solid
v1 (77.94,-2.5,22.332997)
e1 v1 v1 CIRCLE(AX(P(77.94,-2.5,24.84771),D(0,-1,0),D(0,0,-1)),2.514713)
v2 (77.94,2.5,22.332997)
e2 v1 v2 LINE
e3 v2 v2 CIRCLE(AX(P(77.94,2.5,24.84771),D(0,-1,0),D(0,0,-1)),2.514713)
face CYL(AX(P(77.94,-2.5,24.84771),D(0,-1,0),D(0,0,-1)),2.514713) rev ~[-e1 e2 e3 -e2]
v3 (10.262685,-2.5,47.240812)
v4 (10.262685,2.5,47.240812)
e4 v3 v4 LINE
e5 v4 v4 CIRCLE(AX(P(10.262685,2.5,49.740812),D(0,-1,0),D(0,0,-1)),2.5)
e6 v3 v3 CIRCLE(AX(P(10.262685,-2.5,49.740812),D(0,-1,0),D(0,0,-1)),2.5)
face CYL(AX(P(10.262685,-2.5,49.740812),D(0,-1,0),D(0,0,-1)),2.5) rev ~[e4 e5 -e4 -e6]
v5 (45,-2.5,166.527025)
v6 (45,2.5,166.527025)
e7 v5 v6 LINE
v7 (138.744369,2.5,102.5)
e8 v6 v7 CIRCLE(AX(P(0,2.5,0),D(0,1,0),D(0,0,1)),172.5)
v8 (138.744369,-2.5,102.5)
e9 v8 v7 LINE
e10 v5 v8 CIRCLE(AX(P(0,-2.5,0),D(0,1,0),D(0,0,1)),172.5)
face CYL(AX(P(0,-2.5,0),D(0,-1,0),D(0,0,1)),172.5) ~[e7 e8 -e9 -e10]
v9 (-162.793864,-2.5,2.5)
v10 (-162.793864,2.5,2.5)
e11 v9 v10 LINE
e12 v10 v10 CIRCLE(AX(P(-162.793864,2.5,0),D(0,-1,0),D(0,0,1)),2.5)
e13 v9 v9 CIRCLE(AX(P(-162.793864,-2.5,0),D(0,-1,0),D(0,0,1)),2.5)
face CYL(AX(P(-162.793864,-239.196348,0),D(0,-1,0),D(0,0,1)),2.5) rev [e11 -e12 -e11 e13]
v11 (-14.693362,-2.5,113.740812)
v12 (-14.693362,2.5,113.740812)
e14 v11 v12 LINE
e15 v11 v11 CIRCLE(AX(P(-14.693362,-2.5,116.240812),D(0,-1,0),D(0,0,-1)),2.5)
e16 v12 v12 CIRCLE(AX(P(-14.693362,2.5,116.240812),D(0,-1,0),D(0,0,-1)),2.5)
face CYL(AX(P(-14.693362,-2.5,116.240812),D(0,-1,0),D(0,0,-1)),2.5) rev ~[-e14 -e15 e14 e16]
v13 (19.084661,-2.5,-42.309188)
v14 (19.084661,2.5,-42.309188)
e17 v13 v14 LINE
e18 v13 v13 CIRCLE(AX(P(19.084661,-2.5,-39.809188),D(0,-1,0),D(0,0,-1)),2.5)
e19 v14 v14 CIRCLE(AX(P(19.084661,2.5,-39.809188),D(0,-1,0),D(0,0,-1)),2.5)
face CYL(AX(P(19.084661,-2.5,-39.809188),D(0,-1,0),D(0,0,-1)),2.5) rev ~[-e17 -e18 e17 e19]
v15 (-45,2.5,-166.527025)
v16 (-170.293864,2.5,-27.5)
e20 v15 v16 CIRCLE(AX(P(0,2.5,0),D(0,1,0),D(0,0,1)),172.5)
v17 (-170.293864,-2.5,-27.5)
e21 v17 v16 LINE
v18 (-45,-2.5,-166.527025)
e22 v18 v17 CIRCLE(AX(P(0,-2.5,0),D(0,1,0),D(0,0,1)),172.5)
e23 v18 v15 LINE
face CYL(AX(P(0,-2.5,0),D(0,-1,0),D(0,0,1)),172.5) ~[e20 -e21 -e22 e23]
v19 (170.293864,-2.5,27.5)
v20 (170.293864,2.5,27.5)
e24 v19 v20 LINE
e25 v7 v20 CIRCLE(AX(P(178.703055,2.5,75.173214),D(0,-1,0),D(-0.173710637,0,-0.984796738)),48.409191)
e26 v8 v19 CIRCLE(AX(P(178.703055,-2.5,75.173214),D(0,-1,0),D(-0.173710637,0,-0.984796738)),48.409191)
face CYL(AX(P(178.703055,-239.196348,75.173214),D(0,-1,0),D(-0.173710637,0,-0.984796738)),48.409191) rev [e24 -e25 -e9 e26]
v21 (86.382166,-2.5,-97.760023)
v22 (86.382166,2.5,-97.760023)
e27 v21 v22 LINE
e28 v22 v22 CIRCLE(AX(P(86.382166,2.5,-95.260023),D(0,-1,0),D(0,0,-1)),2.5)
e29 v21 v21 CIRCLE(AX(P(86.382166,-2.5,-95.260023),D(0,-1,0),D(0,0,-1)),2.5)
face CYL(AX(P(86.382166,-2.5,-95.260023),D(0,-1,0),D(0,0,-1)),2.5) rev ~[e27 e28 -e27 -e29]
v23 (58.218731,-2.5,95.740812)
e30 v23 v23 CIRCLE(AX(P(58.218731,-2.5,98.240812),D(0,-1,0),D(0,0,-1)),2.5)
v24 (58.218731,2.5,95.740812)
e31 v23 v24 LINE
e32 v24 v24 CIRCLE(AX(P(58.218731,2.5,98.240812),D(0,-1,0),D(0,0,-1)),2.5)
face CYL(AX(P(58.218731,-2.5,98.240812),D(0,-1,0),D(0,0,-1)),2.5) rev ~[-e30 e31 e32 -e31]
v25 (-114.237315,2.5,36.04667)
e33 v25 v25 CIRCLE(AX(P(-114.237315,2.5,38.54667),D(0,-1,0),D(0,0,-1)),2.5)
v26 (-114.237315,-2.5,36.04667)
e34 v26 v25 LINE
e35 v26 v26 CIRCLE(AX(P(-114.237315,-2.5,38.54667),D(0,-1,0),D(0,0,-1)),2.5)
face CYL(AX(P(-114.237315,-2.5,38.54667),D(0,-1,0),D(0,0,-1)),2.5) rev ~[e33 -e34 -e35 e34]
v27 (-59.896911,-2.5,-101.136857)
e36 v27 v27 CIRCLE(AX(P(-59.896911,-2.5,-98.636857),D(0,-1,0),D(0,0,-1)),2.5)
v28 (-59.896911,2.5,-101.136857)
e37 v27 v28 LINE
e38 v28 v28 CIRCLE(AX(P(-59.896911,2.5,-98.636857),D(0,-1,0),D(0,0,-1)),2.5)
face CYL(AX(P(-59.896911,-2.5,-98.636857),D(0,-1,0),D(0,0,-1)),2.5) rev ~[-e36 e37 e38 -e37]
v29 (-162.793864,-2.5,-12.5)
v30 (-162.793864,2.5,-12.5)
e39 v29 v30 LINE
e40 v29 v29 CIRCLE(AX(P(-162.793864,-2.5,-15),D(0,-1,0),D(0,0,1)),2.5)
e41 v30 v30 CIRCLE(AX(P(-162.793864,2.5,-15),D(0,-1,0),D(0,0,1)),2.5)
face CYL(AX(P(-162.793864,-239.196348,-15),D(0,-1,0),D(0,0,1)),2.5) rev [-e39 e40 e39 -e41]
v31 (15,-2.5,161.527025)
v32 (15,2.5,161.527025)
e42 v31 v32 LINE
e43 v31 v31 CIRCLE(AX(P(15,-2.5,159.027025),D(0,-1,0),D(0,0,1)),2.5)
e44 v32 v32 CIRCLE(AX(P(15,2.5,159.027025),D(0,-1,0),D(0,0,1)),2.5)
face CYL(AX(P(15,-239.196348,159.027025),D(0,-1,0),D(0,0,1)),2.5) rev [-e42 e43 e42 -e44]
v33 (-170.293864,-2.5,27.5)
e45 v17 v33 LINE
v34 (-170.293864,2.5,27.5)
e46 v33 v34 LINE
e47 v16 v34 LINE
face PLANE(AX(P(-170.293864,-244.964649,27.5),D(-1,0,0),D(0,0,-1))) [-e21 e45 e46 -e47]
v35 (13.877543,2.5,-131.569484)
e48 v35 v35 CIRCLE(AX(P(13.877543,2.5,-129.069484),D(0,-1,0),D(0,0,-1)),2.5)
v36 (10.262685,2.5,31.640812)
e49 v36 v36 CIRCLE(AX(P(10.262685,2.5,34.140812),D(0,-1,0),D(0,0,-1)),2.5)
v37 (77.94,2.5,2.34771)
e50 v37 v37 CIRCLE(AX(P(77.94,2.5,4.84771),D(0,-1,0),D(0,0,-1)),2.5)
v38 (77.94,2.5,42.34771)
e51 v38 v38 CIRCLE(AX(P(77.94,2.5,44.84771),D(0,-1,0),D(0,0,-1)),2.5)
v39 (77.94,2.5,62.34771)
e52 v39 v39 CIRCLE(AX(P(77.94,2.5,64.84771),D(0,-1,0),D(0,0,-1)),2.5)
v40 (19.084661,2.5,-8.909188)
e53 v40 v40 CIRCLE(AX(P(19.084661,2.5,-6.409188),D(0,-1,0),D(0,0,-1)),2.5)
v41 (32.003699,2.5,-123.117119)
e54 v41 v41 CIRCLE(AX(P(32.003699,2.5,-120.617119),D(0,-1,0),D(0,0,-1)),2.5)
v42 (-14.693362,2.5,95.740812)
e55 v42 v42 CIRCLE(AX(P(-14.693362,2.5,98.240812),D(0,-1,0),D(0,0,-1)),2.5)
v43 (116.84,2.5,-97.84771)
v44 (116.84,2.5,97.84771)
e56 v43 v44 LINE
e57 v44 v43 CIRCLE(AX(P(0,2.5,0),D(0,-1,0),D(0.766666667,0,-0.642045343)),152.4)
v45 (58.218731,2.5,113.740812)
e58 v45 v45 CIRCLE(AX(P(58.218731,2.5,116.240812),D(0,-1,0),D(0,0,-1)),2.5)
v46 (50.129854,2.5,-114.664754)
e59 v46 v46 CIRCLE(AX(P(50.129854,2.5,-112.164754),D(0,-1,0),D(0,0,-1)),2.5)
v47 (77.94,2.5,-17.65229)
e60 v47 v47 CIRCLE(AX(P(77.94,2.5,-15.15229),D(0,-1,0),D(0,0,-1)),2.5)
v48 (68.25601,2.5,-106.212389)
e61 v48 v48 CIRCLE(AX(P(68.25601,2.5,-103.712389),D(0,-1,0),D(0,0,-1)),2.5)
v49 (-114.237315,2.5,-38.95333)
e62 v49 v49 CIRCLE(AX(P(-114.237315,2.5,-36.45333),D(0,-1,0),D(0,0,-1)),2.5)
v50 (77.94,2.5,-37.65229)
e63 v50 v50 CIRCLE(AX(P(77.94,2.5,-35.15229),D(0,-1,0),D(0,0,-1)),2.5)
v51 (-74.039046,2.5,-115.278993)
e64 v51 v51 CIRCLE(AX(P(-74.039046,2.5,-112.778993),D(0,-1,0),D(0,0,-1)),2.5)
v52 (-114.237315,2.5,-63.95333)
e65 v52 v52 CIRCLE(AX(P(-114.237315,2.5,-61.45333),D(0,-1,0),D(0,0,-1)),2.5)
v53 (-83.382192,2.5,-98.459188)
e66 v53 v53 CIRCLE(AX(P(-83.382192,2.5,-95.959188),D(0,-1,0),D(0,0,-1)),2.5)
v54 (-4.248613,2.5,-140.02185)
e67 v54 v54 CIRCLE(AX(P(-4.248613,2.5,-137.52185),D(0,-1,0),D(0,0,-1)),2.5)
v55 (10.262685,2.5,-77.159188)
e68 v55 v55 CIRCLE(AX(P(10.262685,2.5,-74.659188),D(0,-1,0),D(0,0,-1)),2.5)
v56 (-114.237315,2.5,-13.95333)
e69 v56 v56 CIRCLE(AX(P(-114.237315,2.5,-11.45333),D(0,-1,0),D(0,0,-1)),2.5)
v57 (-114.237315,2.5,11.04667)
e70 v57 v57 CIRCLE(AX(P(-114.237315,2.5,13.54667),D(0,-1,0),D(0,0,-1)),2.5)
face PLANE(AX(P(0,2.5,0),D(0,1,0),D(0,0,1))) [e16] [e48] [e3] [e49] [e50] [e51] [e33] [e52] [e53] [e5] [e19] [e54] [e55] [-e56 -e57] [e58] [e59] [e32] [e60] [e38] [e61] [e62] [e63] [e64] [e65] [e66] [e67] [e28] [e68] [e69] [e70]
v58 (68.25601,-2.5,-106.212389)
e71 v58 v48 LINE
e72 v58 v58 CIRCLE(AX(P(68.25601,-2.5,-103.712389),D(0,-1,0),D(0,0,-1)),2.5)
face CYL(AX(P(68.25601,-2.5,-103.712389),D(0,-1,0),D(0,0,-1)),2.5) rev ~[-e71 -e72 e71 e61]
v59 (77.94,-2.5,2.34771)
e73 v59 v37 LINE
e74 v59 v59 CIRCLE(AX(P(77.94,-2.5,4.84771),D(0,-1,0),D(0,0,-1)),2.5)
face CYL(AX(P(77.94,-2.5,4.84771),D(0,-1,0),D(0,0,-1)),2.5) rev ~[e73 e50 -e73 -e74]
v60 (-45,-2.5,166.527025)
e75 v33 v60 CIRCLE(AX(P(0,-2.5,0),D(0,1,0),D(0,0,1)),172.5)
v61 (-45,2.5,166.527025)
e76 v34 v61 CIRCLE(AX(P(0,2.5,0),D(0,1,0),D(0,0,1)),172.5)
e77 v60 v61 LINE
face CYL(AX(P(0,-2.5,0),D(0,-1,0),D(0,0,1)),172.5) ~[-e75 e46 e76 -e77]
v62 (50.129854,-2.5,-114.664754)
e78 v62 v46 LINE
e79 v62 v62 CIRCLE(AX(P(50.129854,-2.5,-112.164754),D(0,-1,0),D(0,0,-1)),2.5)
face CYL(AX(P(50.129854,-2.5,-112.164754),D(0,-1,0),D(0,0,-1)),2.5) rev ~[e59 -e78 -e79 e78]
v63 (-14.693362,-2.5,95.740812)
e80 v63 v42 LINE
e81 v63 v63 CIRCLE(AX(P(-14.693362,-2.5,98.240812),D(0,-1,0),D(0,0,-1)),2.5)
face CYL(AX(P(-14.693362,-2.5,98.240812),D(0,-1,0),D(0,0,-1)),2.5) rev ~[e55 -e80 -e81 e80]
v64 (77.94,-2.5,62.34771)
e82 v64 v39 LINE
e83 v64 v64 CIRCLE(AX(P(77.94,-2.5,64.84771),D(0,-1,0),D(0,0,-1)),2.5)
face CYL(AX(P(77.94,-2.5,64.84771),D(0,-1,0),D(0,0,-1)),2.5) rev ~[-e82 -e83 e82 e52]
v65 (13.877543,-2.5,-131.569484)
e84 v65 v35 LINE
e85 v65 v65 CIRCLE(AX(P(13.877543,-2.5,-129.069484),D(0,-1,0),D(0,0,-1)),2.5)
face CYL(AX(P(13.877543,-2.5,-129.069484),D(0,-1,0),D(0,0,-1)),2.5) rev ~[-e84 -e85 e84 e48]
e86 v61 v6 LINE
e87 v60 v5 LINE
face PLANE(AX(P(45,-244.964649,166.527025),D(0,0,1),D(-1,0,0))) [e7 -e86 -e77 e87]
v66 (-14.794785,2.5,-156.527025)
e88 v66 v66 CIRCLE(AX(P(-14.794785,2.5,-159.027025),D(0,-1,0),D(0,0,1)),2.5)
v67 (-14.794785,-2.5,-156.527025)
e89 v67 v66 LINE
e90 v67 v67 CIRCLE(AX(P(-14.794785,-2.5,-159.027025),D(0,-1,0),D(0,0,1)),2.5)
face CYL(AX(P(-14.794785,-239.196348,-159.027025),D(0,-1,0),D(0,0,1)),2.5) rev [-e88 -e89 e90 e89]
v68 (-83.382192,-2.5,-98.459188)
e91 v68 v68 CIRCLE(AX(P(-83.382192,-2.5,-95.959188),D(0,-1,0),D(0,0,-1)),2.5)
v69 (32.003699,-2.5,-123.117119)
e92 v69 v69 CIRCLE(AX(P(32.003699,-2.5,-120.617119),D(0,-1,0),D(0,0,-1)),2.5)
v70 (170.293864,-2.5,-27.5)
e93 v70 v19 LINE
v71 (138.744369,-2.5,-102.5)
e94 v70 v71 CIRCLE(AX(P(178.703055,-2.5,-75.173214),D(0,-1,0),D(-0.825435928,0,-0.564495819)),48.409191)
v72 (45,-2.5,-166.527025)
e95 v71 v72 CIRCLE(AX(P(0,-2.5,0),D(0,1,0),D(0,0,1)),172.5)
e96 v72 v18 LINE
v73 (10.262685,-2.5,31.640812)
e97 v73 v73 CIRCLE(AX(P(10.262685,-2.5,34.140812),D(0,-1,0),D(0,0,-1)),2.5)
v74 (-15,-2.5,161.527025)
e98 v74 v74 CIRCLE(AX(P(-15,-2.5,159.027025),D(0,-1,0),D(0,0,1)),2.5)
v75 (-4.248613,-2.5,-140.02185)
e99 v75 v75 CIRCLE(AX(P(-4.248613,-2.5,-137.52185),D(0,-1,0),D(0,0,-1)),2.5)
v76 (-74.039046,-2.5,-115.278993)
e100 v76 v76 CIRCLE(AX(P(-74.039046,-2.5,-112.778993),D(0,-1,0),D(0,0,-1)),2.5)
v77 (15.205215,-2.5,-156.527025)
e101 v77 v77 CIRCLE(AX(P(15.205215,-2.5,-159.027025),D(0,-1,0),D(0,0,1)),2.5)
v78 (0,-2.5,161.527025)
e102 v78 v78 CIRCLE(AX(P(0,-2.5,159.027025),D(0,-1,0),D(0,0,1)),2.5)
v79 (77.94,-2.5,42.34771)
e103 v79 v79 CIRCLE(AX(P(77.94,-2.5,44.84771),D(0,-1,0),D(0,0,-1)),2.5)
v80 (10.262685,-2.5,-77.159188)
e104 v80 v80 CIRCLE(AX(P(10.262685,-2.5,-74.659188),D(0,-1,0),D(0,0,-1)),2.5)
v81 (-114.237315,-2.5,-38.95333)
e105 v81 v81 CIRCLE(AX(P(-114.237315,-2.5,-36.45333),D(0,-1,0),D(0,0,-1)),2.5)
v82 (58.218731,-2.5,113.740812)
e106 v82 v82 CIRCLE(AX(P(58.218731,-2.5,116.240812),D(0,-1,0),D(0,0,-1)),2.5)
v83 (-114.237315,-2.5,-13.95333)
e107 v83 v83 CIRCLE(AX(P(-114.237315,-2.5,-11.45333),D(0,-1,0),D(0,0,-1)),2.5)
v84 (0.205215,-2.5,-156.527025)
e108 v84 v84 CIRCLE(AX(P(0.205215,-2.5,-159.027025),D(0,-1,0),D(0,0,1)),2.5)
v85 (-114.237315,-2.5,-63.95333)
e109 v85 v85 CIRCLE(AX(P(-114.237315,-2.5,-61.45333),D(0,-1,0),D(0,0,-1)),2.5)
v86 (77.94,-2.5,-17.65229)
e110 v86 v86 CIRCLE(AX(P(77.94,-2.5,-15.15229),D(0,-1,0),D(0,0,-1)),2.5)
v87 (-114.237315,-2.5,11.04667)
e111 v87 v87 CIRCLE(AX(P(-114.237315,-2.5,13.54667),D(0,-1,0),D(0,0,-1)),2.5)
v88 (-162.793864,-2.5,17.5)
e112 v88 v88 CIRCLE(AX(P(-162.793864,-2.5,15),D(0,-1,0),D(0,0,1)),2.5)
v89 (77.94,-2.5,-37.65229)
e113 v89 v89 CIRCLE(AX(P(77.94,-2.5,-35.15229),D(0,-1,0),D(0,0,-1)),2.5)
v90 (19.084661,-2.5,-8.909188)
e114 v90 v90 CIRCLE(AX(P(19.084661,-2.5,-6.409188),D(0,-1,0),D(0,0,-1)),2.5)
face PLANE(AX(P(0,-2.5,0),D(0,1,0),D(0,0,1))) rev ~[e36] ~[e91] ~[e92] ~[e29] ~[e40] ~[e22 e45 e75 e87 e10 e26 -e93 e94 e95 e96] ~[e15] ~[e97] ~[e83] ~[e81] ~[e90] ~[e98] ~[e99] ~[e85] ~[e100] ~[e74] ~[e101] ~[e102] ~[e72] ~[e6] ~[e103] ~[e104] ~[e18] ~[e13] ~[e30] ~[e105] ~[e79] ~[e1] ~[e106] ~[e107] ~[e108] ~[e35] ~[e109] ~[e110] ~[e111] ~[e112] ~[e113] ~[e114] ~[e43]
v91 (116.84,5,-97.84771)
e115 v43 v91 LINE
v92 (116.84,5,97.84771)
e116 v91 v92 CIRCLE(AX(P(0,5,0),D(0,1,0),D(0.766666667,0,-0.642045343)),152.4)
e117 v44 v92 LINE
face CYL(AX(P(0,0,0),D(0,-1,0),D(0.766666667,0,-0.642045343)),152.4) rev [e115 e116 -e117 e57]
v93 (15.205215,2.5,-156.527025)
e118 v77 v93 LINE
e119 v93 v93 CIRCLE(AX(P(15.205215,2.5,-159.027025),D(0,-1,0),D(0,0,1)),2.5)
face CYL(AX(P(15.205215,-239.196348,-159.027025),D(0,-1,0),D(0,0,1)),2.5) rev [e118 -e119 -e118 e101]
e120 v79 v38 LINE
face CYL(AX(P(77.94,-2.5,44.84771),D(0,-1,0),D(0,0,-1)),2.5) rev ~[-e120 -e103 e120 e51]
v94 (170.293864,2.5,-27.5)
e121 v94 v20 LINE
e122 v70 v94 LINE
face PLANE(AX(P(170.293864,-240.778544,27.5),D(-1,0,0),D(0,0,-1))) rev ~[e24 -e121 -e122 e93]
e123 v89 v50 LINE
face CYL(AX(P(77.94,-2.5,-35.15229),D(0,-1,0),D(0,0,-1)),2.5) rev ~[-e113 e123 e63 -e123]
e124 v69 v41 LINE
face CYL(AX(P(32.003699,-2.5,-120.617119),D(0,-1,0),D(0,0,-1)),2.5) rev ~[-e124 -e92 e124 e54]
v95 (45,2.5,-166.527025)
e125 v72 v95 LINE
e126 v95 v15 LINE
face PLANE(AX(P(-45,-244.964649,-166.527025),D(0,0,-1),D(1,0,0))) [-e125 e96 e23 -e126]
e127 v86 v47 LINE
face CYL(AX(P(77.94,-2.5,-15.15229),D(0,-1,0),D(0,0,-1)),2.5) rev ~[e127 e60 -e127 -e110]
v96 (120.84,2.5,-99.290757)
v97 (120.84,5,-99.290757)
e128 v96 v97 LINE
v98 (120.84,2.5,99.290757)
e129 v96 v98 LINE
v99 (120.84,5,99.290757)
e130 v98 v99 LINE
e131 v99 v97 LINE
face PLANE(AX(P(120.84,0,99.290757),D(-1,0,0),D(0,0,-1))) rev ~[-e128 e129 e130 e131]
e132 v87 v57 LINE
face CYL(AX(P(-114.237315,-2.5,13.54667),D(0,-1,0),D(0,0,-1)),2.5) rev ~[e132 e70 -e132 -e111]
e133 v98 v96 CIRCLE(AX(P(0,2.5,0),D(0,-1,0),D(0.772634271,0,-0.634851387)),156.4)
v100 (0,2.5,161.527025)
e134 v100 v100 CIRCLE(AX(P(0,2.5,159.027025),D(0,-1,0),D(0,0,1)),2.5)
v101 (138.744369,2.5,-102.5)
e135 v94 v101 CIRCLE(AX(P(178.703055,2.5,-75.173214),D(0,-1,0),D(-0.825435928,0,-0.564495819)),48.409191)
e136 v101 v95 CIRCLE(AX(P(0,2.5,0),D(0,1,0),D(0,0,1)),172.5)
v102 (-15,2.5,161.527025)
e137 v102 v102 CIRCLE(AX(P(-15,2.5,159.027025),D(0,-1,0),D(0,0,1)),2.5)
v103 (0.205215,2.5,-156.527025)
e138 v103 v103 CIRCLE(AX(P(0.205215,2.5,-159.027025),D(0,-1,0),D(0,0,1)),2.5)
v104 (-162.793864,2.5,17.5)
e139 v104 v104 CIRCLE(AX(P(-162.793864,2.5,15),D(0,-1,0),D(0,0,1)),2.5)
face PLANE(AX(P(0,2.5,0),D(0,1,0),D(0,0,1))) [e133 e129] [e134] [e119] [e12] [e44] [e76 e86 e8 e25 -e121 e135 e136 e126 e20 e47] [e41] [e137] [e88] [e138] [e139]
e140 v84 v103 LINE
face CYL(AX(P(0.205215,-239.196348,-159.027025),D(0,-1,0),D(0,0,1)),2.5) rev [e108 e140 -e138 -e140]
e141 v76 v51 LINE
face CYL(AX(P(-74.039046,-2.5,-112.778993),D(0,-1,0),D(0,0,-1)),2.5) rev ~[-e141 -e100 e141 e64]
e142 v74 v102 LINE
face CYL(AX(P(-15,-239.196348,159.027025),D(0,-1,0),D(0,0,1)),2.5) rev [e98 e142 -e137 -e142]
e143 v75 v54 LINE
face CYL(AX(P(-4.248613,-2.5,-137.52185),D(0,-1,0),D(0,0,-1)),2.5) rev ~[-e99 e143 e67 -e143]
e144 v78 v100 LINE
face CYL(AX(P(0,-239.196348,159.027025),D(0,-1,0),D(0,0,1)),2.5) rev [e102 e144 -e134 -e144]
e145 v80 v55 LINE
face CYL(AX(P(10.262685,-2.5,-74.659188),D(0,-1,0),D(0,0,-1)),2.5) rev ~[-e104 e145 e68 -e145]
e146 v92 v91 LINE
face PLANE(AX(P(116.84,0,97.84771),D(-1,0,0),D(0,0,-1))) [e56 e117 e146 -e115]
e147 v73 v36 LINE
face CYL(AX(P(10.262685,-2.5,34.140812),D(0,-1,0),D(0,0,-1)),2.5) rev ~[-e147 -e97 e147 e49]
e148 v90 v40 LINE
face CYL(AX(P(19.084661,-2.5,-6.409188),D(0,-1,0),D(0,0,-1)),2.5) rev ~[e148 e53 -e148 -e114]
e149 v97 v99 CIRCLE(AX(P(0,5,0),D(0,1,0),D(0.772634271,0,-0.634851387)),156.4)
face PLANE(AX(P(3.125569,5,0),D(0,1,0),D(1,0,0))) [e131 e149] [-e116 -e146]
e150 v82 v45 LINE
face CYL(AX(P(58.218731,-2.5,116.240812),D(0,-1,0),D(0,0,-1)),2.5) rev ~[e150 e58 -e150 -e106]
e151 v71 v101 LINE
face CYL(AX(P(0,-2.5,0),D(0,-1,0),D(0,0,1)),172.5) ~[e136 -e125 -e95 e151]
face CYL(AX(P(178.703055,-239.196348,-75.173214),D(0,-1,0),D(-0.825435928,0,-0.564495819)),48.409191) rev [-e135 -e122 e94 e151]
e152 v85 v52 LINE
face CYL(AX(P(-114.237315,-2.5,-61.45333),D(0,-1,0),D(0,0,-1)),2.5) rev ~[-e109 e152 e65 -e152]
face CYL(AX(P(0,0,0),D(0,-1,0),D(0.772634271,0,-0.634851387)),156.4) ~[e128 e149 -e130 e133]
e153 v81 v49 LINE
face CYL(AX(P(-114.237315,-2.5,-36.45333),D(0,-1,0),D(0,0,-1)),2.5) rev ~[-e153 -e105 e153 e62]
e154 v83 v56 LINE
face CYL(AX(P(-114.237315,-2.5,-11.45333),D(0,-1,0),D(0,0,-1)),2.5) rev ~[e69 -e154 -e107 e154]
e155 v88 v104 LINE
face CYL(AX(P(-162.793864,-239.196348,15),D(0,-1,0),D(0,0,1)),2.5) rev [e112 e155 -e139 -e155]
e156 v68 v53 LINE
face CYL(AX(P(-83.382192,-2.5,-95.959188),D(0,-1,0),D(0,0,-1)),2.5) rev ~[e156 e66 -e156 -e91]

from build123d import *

# Parameters (mm, degrees)
EXTRUSION1_DEPTH       = 2.5
EXTRUSION1_DEPTH_BACK  = 2.5
SKETCH1_R              = 172.5
EXTRUSION2_DEPTH       = 244.964649079
EXTRUSION2_DEPTH_BACK  = 244.964649079
EXTRUSION3_DEPTH       = 240.778543661
EXTRUSION3_DEPTH_BACK  = 240.778543661
EXTRUSION4_DEPTH       = 239.196347579
EXTRUSION4_DEPTH_BACK  = 239.196347579
EXTRUSION8_DEPTH       = 239.196347579
EXTRUSION8_DEPTH_BACK  = 239.196347579
SKETCH7_R              = 2.5
EXTRUSION9_DEPTH       = 239.196347579
EXTRUSION9_DEPTH_BACK  = 239.196347579
SKETCH8_R              = 2.5
EXTRUSION10_DEPTH      = 239.196347579
EXTRUSION10_DEPTH_BACK = 239.196347579
SKETCH9_R              = 2.5
EXTRUSION11_DEPTH      = 5
SKETCH11_R             = 2.5
SKETCH11_R_2           = 2.51471315
CUT_EXTRUDE1_DEPTH     = 27


with BuildPart() as part:
    # Sketch1 → Extrusion1 (new, two sides: drawn at the far end of the back side and taken through both)
    with BuildSketch(Plane(origin=(0, 0, 0), x_dir=(-1, 0, 0), z_dir=(0, 1, 0)).offset(-EXTRUSION1_DEPTH_BACK)):
        with Locations(Location((0, 0, 0), (0, 0, 90))):
            Circle(SKETCH1_R)
    extrude(amount=EXTRUSION1_DEPTH + EXTRUSION1_DEPTH_BACK)

    # Sketch2 → Extrusion2 (cut, two sides: drawn at the far end of the back side and taken through both)
    with BuildSketch(Plane(origin=(0, 0, 0), x_dir=(1, 0, 0), z_dir=(0, 1, 0)).offset(-EXTRUSION2_DEPTH_BACK)):
        with BuildLine():
            Line((45, -166.527024834), (-45, -166.527024834))
            ThreePointArc((-45, -166.527024834), (0, -172.5), (45, -166.527024834))
        make_face()
        with BuildLine():
            Line((-45, 166.527024834), (45, 166.527024834))
            ThreePointArc((45, 166.527024834), (0, 172.5), (-45, 166.527024834))
        make_face()
        with BuildLine():
            Line((-170.293863659, -27.5), (-170.293863659, 27.5))
            ThreePointArc((-170.293863659, 27.5), (-172.5, 0), (-170.293863659, -27.5))
        make_face()
    extrude(amount=EXTRUSION2_DEPTH + EXTRUSION2_DEPTH_BACK, mode=Mode.SUBTRACT)

    # Sketch3 → Extrusion3 (cut, two sides: drawn at the far end of the back side and taken through both)
    with BuildSketch(Plane(origin=(0, 0, 0), x_dir=(1, 0, 0), z_dir=(0, 1, 0)).offset(-EXTRUSION3_DEPTH_BACK)):
        with BuildLine():
            Line((170.293863659, -27.5), (170.293863659, 27.5))
            ThreePointArc((170.293863659, 27.5), (172.5, 0), (170.293863659, -27.5))
        make_face()
    extrude(amount=EXTRUSION3_DEPTH + EXTRUSION3_DEPTH_BACK, mode=Mode.SUBTRACT)

    # Sketch4 → Extrusion4 (cut, two sides: drawn at the far end of the back side and taken through both)
    with BuildSketch(Plane(origin=(0, 0, 0), x_dir=(1, 0, 0), z_dir=(0, 1, 0)).offset(-EXTRUSION4_DEPTH_BACK)):
        with BuildLine():
            ThreePointArc((170.293863659, -27.5), (134.081167118, -56.402573756), (138.744369255, -102.5))
            ThreePointArc((138.744369255, -102.5), (159.00442557, -66.886789797), (170.293863659, -27.5))
        make_face()
        with BuildLine():
            ThreePointArc((170.293863659, 27.5), (159.00442557, 66.886789797), (138.744369255, 102.5))
            ThreePointArc((138.744369255, 102.5), (134.081167118, 56.402573756), (170.293863659, 27.5))
        make_face()
    extrude(amount=EXTRUSION4_DEPTH + EXTRUSION4_DEPTH_BACK, mode=Mode.SUBTRACT)

    # Sketch7 → Extrusion8 (cut, two sides: drawn at the far end of the back side and taken through both)
    with BuildSketch(Plane(origin=(0, 0, 0), x_dir=(1, 0, 0), z_dir=(0, 1, 0)).offset(-EXTRUSION8_DEPTH_BACK)):
        with Locations(Location((-162.793863659, -15, 0), (0, 0, 270))):
            Circle(SKETCH7_R)
        with Locations(Location((-162.793863659, 0, 0), (0, 0, 270))):
            Circle(SKETCH7_R)
        with Locations(Location((-162.793863659, 15, 0), (0, 0, 270))):
            Circle(SKETCH7_R)
    extrude(amount=EXTRUSION8_DEPTH + EXTRUSION8_DEPTH_BACK, mode=Mode.SUBTRACT)

    # Sketch8 → Extrusion9 (cut, two sides: drawn at the far end of the back side and taken through both)
    with BuildSketch(Plane(origin=(0, 0, 0), x_dir=(1, 0, 0), z_dir=(0, 1, 0)).offset(-EXTRUSION9_DEPTH_BACK)):
        with Locations(Location((-15, -159.027024834, 0), (0, 0, 270))):
            Circle(SKETCH8_R)
        with Locations(Location((0, -159.027024834, 0), (0, 0, 270))):
            Circle(SKETCH8_R)
        with Locations(Location((15, -159.027024834, 0), (0, 0, 270))):
            Circle(SKETCH8_R)
    extrude(amount=EXTRUSION9_DEPTH + EXTRUSION9_DEPTH_BACK, mode=Mode.SUBTRACT)

    # Sketch9 → Extrusion10 (cut, two sides: drawn at the far end of the back side and taken through both)
    with BuildSketch(Plane(origin=(0, 0, 0), x_dir=(1, 0, 0), z_dir=(0, 1, 0)).offset(-EXTRUSION10_DEPTH_BACK)):
        with Locations(Location((0.205214566, 159.027024834, 0), (0, 0, 270))):
            Circle(SKETCH9_R)
        with Locations(Location((-14.794785434, 159.027024834, 0), (0, 0, 270))):
            Circle(SKETCH9_R)
        with Locations(Location((15.205214566, 159.027024834, 0), (0, 0, 270))):
            Circle(SKETCH9_R)
    extrude(amount=EXTRUSION10_DEPTH + EXTRUSION10_DEPTH_BACK, mode=Mode.SUBTRACT)

    # Sketch10 → Extrusion11 (add)
    with BuildSketch(Plane(origin=(0, 0, 0), x_dir=(1, 0, 0), z_dir=(0, 1, 0))):
        with BuildLine():
            Line((120.84, -99.290756871), (120.84, 99.290756871))
            ThreePointArc((120.84, 99.290756871), (-156.4, 0), (120.84, -99.290756871))
        make_face()
        with BuildLine():
            ThreePointArc((116.84, 97.847710244), (-152.4, 0), (116.84, -97.847710244))
            Line((116.84, -97.847710244), (116.84, 97.847710244))
        make_face(mode=Mode.SUBTRACT)
    extrude(amount=EXTRUSION11_DEPTH)

    # Sketch11 → Cut-Extrude1 (cut)
    with BuildSketch(Plane(origin=(0, -2.5, 0), x_dir=(-1, 0, 0), z_dir=(0, -1, 0))):
        with Locations(Location((114.237315354, 61.453329839, 0), (0, 0, 90))):
            Circle(SKETCH11_R)
        with Locations(Location((114.237315354, 36.453329839, 0), (0, 0, 90))):
            Circle(SKETCH11_R)
        with Locations(Location((114.237315354, 11.453329839, 0), (0, 0, 90))):
            Circle(SKETCH11_R)
        with Locations(Location((114.237315354, -13.546670161, 0), (0, 0, 90))):
            Circle(SKETCH11_R)
        with Locations(Location((114.237315354, -38.546670161, 0), (0, 0, 90))):
            Circle(SKETCH11_R)
        with Locations(Location((83.382192066, 95.959187947, 0), (0, 0, 90))):
            Circle(SKETCH11_R)
        with Locations(Location((74.039046315, 112.7789931, 0), (0, 0, 90))):
            Circle(SKETCH11_R)
        with Locations(Location((59.896910692, 98.636857477, 0), (0, 0, 90))):
            Circle(SKETCH11_R)
        with Locations(Location((-10.262684646, 74.659187947, 0), (0, 0, 90))):
            Circle(SKETCH11_R)
        with Locations(Location((-10.262684646, -34.140812053, 0), (0, 0, 90))):
            Circle(SKETCH11_R)
        with Locations(Location((-10.262684646, -49.740812053, 0), (0, 0, 90))):
            Circle(SKETCH11_R)
        with Locations(Location((-77.94, -64.847710244, 0), (0, 0, 90))):
            Circle(SKETCH11_R)
        with Locations(Location((-77.94, -44.847710244, 0), (0, 0, 90))):
            Circle(SKETCH11_R)
        with Locations(Location((-77.94, -24.847710244, 0), (0, 0, 90))):
            Circle(SKETCH11_R_2)
        with Locations(Location((-77.94, -4.847710244, 0), (0, 0, 90))):
            Circle(SKETCH11_R)
        with Locations(Location((-77.94, 15.152289756, 0), (0, 0, 90))):
            Circle(SKETCH11_R)
        with Locations(Location((-77.94, 35.152289756, 0), (0, 0, 90))):
            Circle(SKETCH11_R)
        with Locations(Location((-86.382165944, 95.260023358, 0), (0, 0, 90))):
            Circle(SKETCH11_R)
        with Locations(Location((-68.256010203, 103.712388593, 0), (0, 0, 90))):
            Circle(SKETCH11_R)
        with Locations(Location((-50.129854462, 112.164753828, 0), (0, 0, 90))):
            Circle(SKETCH11_R)
        with Locations(Location((-32.003698722, 120.617119063, 0), (0, 0, 90))):
            Circle(SKETCH11_R)
        with Locations(Location((-13.877542981, 129.069484298, 0), (0, 0, 90))):
            Circle(SKETCH11_R)
        with Locations(Location((4.24861276, 137.521849532, 0), (0, 0, 90))):
            Circle(SKETCH11_R)
        with Locations(Location((14.693361821, -98.240812053, 0), (0, 0, 90))):
            Circle(SKETCH11_R)
        with Locations(Location((14.693361821, -116.240812053, 0), (0, 0, 90))):
            Circle(SKETCH11_R)
        with Locations(Location((-58.218731113, -116.240812053, 0), (0, 0, 90))):
            Circle(SKETCH11_R)
        with Locations(Location((-58.218731113, -98.240812053, 0), (0, 0, 90))):
            Circle(SKETCH11_R)
        with Locations(Location((-19.084661413, 39.809187947, 0), (0, 0, 90))):
            Circle(SKETCH11_R)
        with Locations(Location((-19.084661413, 6.409187947, 0), (0, 0, 90))):
            Circle(SKETCH11_R)
    extrude(amount=-CUT_EXTRUDE1_DEPTH, mode=Mode.SUBTRACT)


solid = part.part
